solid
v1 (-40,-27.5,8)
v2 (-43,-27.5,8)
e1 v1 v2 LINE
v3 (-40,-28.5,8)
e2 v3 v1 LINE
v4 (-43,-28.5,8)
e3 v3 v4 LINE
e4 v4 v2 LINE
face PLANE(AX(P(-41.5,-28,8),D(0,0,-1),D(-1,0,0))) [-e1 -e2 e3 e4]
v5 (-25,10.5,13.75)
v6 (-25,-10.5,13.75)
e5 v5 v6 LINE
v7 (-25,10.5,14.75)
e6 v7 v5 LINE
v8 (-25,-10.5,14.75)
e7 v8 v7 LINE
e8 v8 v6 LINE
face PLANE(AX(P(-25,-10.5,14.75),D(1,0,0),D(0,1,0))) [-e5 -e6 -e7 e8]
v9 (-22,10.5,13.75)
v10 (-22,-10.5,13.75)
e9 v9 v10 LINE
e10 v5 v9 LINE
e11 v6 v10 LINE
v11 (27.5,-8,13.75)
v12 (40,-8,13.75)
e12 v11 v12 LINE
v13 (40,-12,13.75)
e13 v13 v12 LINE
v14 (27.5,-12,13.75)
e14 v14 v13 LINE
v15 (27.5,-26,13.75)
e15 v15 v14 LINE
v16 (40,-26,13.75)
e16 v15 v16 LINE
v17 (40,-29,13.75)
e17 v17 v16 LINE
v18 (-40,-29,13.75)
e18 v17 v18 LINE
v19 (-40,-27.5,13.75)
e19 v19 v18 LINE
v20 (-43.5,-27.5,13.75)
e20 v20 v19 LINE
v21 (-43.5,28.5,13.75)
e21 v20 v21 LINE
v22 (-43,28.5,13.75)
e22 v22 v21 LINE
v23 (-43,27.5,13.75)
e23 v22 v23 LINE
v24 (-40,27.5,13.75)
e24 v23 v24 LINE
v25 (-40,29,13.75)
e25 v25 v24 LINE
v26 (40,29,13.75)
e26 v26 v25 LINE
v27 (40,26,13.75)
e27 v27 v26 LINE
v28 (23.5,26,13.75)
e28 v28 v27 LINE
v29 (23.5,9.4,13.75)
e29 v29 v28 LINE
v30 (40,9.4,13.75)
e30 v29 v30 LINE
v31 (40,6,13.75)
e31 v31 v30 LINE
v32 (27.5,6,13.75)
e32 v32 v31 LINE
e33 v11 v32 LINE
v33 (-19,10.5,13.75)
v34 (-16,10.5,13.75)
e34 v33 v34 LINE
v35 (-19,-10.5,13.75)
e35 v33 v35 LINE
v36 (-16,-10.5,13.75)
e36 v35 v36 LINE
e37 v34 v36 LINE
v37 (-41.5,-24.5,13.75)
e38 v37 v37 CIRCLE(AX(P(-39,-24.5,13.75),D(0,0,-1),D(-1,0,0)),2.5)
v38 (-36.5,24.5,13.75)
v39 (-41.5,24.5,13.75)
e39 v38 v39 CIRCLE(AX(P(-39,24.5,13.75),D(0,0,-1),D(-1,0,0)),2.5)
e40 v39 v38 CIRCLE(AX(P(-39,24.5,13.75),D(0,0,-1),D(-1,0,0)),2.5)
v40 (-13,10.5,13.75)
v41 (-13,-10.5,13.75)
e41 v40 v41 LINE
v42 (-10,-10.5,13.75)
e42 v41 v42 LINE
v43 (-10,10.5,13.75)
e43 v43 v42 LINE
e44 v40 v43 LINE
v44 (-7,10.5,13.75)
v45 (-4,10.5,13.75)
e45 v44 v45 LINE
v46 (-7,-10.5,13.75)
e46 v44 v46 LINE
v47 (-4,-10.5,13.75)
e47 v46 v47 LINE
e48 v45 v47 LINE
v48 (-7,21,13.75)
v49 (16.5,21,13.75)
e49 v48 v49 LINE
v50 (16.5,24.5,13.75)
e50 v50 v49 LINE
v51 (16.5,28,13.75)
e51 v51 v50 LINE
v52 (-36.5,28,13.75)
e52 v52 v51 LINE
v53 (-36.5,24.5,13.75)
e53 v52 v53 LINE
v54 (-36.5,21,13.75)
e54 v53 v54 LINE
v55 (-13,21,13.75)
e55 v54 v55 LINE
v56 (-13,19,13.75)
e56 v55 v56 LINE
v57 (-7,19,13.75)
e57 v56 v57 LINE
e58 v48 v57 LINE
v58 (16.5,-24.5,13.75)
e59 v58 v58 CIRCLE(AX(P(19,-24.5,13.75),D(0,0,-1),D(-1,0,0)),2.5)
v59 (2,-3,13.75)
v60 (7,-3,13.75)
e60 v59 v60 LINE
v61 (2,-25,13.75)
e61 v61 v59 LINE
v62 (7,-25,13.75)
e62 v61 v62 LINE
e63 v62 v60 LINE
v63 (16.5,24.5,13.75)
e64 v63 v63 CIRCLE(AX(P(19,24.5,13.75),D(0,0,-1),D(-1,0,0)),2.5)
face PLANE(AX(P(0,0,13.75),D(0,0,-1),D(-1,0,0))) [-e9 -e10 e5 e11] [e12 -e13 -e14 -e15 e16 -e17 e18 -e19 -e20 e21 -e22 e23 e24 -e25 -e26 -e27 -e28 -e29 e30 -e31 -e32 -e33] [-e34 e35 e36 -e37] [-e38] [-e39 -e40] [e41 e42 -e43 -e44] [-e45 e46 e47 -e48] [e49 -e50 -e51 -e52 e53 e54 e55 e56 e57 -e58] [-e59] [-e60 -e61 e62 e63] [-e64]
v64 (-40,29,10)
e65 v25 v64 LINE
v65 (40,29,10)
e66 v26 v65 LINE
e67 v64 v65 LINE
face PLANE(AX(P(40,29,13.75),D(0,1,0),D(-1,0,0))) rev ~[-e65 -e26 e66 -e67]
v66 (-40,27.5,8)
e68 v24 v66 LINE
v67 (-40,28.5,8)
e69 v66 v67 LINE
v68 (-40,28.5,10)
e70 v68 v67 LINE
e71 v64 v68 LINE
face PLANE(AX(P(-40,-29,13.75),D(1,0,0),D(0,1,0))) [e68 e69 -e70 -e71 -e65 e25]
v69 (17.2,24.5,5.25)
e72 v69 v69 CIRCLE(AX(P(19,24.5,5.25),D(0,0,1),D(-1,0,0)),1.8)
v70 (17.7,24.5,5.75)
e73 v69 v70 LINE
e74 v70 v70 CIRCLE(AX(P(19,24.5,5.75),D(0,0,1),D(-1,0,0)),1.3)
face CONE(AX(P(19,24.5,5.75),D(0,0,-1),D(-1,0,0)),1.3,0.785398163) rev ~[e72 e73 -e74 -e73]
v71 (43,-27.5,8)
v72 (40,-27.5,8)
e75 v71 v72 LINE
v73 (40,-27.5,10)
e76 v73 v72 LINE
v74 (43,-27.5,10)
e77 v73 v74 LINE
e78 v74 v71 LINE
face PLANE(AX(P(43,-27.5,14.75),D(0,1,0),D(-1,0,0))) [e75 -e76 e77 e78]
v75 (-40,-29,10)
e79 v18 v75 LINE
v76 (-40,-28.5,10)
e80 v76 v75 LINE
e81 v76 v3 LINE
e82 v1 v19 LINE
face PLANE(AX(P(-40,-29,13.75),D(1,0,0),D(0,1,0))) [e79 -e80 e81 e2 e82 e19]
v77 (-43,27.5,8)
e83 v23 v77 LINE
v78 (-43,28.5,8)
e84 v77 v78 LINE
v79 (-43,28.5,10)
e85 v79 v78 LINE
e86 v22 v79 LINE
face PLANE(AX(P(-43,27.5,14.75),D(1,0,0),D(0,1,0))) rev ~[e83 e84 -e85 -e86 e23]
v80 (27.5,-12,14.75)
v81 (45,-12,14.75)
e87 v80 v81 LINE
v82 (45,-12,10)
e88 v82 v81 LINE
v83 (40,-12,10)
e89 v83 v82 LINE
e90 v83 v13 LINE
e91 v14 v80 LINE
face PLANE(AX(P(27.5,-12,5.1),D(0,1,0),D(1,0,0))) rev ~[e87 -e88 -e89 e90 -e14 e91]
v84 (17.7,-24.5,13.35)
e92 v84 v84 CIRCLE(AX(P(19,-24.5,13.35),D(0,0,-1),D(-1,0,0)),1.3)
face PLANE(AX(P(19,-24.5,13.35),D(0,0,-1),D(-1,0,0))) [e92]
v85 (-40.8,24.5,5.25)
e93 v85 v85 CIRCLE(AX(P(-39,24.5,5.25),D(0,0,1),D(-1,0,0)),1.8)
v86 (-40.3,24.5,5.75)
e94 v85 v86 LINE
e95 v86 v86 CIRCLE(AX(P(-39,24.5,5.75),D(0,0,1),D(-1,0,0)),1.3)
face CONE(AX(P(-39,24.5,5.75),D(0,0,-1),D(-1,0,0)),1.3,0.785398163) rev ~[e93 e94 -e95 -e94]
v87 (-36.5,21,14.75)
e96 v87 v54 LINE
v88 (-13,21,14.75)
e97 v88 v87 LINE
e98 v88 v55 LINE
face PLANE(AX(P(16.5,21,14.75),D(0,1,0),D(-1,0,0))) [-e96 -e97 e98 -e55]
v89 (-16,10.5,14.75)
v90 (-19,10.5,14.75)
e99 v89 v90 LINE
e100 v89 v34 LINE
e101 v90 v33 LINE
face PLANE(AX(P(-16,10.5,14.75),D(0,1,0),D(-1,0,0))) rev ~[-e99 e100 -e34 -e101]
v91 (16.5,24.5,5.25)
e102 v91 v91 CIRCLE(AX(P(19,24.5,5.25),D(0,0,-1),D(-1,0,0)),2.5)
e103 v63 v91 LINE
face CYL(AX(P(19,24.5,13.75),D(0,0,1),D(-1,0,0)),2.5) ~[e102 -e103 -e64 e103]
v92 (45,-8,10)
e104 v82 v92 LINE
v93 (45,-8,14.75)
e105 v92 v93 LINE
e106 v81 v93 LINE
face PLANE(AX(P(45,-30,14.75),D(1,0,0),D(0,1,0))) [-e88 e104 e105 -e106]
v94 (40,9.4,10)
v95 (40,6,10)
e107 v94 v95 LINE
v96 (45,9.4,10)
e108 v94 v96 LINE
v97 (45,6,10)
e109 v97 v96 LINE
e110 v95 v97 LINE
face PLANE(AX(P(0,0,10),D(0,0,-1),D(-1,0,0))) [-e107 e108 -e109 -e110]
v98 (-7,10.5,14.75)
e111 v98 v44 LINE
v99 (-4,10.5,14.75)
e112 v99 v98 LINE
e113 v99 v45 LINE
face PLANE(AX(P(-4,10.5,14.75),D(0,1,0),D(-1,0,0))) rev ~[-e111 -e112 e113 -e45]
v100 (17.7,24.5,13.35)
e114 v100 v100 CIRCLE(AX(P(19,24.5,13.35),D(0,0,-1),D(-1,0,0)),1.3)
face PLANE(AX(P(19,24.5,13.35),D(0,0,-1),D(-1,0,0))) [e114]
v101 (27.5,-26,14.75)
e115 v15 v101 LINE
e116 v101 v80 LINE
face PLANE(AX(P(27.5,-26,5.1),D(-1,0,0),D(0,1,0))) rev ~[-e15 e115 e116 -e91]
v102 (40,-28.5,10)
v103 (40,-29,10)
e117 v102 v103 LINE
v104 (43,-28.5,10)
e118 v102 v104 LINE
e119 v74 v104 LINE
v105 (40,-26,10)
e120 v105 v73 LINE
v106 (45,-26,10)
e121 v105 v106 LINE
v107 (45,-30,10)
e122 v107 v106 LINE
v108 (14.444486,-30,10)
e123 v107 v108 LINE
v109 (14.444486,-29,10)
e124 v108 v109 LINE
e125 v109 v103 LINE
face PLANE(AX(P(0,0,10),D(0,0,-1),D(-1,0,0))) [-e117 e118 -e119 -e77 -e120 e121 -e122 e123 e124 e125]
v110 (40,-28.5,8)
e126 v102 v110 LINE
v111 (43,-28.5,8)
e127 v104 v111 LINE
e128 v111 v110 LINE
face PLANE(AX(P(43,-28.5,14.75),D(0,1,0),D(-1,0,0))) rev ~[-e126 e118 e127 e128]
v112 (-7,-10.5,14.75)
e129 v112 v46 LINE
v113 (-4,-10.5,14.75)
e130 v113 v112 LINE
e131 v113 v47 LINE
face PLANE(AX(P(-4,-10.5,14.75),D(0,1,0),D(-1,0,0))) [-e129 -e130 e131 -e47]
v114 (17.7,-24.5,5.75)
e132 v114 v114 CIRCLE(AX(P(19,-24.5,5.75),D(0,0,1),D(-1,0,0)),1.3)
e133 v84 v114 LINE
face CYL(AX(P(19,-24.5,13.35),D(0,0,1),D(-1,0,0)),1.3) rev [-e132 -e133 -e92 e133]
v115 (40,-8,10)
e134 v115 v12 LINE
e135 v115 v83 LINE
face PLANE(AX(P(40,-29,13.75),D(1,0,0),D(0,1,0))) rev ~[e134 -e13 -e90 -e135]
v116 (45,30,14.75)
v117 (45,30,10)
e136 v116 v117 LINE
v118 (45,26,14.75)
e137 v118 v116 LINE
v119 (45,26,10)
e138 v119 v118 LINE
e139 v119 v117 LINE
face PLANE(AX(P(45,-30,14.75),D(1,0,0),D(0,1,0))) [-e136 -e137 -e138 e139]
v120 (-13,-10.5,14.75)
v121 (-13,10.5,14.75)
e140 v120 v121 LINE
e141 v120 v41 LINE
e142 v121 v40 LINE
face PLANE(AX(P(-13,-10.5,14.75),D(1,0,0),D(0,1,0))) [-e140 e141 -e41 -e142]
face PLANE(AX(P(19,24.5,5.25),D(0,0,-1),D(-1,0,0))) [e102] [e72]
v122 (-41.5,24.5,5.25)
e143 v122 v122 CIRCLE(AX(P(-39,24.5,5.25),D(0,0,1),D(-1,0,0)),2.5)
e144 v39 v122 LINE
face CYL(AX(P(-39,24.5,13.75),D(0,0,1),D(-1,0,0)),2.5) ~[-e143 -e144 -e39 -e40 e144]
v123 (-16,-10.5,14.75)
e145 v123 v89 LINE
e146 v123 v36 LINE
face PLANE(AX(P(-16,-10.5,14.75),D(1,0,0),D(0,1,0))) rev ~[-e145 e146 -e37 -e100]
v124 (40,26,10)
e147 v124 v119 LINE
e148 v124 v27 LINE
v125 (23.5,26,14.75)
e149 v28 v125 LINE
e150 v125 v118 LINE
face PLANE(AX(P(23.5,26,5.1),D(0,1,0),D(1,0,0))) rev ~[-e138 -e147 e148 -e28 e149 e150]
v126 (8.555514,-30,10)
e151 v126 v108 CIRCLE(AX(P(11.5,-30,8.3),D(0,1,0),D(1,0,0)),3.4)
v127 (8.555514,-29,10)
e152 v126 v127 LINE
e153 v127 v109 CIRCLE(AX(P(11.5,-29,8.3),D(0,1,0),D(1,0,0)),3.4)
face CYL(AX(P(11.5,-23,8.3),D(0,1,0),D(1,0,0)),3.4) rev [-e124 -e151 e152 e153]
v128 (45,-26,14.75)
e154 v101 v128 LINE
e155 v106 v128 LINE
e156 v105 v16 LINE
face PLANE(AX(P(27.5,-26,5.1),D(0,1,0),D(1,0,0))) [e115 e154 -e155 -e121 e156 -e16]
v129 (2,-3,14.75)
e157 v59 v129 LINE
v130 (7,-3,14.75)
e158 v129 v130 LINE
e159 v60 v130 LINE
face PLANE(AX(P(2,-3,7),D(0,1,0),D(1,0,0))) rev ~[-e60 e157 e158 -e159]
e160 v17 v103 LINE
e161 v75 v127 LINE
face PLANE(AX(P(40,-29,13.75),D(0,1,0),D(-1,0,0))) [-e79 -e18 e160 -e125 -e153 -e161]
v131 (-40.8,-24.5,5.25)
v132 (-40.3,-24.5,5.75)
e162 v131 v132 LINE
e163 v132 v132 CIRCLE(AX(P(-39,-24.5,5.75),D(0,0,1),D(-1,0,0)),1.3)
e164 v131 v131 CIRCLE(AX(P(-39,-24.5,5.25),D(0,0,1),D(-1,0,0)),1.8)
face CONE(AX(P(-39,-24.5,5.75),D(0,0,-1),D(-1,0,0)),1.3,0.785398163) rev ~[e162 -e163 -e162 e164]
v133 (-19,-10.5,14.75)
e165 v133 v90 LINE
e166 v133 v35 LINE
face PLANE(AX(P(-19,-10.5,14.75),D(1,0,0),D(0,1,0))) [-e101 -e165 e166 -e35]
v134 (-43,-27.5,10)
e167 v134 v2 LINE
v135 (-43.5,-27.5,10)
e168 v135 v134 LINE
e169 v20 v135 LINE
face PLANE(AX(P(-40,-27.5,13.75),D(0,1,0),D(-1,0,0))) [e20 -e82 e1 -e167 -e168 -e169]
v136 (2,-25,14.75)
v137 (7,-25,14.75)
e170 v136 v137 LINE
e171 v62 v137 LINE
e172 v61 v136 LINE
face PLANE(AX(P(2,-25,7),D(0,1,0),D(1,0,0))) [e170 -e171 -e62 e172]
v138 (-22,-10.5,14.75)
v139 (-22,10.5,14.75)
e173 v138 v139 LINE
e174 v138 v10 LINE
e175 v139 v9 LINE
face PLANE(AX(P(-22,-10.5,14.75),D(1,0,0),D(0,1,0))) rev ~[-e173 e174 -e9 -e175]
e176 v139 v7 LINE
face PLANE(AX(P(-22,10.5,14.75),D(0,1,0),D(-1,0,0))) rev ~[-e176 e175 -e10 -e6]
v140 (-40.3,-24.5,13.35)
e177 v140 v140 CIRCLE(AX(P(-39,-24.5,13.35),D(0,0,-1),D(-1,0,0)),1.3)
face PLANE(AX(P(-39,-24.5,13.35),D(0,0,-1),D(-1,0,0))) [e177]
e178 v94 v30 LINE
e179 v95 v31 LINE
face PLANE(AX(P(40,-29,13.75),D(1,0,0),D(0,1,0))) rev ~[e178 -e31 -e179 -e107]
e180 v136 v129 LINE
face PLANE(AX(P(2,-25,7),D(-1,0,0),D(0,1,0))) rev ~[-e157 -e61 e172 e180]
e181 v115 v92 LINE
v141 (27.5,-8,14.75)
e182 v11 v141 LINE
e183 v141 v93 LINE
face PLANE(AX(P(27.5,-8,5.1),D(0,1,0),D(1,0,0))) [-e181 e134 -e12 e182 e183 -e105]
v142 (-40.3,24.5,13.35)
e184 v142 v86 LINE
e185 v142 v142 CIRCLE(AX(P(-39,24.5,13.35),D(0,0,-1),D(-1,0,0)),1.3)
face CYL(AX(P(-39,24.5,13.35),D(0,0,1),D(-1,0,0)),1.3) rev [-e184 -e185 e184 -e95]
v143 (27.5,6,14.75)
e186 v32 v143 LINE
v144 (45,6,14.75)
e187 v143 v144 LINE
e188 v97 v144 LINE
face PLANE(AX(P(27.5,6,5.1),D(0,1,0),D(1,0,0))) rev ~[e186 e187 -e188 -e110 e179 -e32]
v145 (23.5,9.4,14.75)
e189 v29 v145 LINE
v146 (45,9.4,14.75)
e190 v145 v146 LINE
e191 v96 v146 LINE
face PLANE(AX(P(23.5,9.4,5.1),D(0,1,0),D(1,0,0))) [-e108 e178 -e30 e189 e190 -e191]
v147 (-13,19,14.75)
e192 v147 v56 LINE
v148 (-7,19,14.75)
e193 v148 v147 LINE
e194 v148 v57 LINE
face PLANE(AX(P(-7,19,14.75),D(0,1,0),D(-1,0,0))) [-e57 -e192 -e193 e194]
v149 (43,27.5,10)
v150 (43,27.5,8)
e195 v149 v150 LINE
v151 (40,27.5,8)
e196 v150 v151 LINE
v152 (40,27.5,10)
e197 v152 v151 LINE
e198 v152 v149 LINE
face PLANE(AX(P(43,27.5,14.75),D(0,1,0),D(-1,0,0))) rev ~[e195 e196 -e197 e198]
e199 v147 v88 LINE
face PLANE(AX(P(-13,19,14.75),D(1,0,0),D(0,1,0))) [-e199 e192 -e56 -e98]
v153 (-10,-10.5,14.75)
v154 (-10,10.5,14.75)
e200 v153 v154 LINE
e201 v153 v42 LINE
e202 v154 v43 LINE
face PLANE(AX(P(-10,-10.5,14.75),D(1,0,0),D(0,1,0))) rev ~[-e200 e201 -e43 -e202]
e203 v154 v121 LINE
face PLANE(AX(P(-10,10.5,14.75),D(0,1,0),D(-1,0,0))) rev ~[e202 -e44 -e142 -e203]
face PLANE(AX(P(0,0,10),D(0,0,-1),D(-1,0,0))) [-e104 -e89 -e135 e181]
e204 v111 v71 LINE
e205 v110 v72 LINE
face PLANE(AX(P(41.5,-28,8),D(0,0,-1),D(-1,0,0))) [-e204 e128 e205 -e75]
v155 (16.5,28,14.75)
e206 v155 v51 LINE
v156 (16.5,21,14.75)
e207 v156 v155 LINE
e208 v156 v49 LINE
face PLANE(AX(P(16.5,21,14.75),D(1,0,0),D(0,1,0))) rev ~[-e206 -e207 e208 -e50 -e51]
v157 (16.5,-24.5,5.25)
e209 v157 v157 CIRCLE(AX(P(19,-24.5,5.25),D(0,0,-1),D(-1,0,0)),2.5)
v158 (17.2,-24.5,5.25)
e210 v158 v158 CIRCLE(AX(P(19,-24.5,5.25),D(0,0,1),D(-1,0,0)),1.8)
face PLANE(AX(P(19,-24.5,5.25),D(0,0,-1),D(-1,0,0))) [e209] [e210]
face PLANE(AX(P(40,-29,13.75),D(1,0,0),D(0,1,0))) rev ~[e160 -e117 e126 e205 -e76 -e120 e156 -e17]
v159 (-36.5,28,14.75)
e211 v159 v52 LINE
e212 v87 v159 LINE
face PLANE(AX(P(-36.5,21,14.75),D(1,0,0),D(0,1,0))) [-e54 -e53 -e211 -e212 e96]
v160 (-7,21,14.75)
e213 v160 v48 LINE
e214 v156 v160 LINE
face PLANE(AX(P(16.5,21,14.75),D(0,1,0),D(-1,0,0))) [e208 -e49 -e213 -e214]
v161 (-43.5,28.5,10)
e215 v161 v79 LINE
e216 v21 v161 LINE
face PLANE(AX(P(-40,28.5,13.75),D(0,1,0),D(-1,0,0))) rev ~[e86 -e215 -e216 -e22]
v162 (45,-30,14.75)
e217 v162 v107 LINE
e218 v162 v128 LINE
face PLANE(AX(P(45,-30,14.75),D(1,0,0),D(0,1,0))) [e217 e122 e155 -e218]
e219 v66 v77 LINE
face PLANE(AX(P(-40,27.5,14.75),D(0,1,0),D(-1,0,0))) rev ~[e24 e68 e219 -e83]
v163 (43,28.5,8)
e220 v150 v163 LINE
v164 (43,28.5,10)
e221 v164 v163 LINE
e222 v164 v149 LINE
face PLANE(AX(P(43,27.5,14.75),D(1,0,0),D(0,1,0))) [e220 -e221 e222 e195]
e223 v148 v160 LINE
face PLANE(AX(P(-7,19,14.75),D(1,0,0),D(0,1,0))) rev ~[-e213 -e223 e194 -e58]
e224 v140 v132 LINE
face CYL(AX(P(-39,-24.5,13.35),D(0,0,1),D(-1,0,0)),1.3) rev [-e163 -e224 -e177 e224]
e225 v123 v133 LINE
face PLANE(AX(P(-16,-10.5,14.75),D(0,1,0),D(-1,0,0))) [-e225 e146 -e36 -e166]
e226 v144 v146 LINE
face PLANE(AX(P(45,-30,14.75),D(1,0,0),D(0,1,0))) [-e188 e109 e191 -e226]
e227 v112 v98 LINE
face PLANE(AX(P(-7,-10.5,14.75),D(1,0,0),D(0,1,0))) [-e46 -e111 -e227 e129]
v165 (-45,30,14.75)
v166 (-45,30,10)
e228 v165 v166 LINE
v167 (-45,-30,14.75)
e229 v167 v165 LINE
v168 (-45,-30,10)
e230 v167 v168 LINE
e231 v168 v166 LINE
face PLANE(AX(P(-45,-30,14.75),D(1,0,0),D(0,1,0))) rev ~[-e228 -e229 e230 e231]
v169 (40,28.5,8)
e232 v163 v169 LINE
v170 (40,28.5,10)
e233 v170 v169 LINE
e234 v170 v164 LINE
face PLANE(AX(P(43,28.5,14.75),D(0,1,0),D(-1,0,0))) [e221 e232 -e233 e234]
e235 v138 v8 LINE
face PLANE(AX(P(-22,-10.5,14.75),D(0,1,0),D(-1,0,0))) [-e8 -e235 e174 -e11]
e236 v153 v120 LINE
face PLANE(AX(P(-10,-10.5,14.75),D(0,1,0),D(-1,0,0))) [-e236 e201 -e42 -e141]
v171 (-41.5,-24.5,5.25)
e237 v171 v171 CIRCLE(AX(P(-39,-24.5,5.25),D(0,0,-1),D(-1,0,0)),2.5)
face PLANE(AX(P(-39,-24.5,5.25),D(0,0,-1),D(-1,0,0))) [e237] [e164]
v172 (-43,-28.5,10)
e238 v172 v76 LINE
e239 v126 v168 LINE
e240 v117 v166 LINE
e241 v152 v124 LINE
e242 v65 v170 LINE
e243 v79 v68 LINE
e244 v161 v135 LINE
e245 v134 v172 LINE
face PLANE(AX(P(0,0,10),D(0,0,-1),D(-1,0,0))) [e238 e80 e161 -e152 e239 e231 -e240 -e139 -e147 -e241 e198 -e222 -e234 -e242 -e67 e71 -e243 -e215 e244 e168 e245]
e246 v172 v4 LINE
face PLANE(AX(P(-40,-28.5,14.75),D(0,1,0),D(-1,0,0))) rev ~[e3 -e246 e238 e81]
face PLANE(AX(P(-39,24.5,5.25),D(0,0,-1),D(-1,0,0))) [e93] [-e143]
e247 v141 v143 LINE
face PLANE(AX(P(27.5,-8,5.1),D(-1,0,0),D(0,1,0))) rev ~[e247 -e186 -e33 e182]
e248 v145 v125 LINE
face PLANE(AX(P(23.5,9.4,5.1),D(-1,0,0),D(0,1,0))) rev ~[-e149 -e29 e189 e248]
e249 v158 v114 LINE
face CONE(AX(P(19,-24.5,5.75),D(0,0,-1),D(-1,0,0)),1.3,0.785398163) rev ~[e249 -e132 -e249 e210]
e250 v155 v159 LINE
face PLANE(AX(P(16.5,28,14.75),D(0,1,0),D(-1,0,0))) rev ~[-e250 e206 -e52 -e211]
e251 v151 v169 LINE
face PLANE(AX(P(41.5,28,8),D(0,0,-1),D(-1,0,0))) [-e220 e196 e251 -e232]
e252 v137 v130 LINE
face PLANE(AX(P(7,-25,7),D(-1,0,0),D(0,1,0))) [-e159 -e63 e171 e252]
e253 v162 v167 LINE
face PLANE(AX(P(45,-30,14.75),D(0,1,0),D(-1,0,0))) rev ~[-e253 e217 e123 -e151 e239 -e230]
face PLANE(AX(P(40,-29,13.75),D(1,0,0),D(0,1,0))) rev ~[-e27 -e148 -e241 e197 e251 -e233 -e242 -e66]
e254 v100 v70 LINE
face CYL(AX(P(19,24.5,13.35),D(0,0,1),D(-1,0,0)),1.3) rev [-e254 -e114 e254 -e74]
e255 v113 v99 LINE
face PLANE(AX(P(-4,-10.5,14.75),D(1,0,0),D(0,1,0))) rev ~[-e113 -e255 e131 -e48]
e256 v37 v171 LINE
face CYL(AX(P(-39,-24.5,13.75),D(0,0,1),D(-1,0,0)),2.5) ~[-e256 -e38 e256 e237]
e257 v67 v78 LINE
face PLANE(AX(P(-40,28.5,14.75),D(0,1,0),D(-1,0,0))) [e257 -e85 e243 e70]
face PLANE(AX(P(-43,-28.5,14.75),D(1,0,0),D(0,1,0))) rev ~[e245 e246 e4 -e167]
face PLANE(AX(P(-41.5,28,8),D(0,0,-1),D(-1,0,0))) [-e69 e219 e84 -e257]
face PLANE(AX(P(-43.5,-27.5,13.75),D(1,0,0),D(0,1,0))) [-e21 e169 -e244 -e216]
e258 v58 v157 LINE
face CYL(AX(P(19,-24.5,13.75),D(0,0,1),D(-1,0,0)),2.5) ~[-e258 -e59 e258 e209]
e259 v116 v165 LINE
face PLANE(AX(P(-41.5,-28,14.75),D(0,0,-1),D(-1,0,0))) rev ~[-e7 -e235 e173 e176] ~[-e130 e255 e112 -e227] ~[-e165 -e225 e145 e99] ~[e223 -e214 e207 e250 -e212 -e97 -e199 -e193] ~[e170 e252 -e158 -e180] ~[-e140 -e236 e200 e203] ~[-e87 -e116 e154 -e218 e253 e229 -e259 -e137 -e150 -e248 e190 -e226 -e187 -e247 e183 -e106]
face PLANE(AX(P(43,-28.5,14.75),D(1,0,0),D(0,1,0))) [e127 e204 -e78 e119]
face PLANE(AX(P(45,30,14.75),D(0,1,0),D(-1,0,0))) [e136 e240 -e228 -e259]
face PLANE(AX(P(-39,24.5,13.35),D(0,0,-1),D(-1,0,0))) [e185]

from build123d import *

# Parameters (mm, degrees)
BOX071_W               = 5
BOX071_H               = 22
BOX071_DEPTH           = 10
BOX002_W               = 5
BOX002_H               = 12
BOX002_DEPTH           = 6
BOX003_W               = 9
BOX003_H               = 10
BOX003_DEPTH           = 3.8
FILLET_R               = 1.6
BOX004_W               = 7
BOX004_H               = 10
BOX004_DEPTH           = 3.8
FILLET001_R            = 0.6
BOX005_W               = 7
BOX005_H               = 10
BOX005_DEPTH           = 3.8
FILLET002_R            = 0.6
CYLINDER008_R          = 3.4
CYLINDER008_DEPTH      = 10
BOX006_W               = 26
BOX006_H               = 16.6
BOX006_DEPTH           = 14
BOX007_W               = 22
BOX007_H               = 14
BOX007_DEPTH           = 16.6
BOX008_W               = 22
BOX008_H               = 14
BOX008_DEPTH           = 16.6
CYLINDER001_R          = 1.6
CYLINDER001_DEPTH      = 10
CYLINDER_R             = 1.6
CYLINDER_DEPTH         = 10
CYLINDER002_R          = 1.6
CYLINDER002_DEPTH      = 10
CYLINDER003_R          = 1.6
CYLINDER003_DEPTH      = 10
BOX017_W               = 3
BOX017_H               = 21
BOX017_DEPTH           = 3
BOX009_W               = 3
BOX009_H               = 21
BOX009_DEPTH           = 3
BOX016_W               = 3
BOX016_H               = 21
BOX016_DEPTH           = 3
BOX010_W               = 3
BOX010_H               = 21
BOX010_DEPTH           = 3
BOX021_W               = 53
BOX021_H               = 7
BOX021_DEPTH           = 10
BOX014_W               = 6
BOX014_H               = 2
BOX014_DEPTH           = 10
CYLINDER013_R          = 1.3
CYLINDER013_DEPTH      = 8.5
CYLINDER015_R          = 1.3
CYLINDER015_DEPTH      = 8.5
CYLINDER016_R          = 1.3
CYLINDER016_DEPTH      = 8.5
CYLINDER012_R          = 1.3
CYLINDER012_DEPTH      = 8.5
BOX018_W               = 3
BOX018_H               = 1
BOX018_DEPTH           = 6.75
BOX012_W               = 3
BOX012_H               = 1
BOX012_DEPTH           = 6.75
BOX013_W               = 3
BOX013_H               = 1
BOX013_DEPTH           = 6.75
BOX015_W               = 3
BOX015_H               = 1
BOX015_DEPTH           = 6.75
CYLINDER014_R          = 2.5
CYLINDER014_DEPTH      = 8.5
CYLINDER009_R          = 2.5
CYLINDER009_DEPTH      = 8.5
CYLINDER010_R          = 2.5
CYLINDER010_DEPTH      = 8.5
CYLINDER011_R          = 2.5
CYLINDER011_DEPTH      = 8.5
BOX020_W               = 3.5
BOX020_H               = 56
BOX020_DEPTH           = 10
BOX011_W               = 80
BOX011_H               = 58
BOX011_DEPTH           = 10
BOX019_W               = 90
BOX019_H               = 60
BOX019_DEPTH           = 4.75
CUT003_PLACEMENT_ANGLE = 180
CHAMFER004_SIZE        = 0.5


with BuildPart() as w_rfel045:
    # Box071 → Box071 (new body)
    with BuildSketch(Plane(origin=(2, -25, 7), x_dir=(1, 0, 0), z_dir=(0, 0, 1))):
        with Locations((2.5, 11)):
            Rectangle(BOX071_W, BOX071_H)
    extrude(amount=BOX071_DEPTH)


with BuildPart() as sd_slot:
    # Box002 → Box002 (new body)
    with BuildSketch(Plane(origin=(-45, -6, -1), x_dir=(1, 0, 0), z_dir=(0, 0, 1))):
        with Locations((2.5, 6)):
            Rectangle(BOX002_W, BOX002_H)
    extrude(amount=BOX002_DEPTH)


with BuildPart() as usb_c:
    # Box003 → Box003 (new body)
    with BuildSketch(Plane(origin=(-35.8, -29, 4.7), x_dir=(1, 0, 0), z_dir=(0, 0, 1))):
        with Locations((4.5, 5)):
            Rectangle(BOX003_W, BOX003_H)
    extrude(amount=BOX003_DEPTH)

    # Fillet
    fillet_edges = [usb_c.edges().sort_by_distance(p)[0] for p in [
        (-35.8, -24, 8.5),
        (-35.8, -24, 4.7),
        (-26.8, -24, 8.5),
        (-26.8, -24, 4.7),
    ]]
    fillet(fillet_edges, radius=FILLET_R)


with BuildPart() as usb_c_1:
    # Fillet placement: moved
    add(usb_c.part.moved(Location((0, -4, 0))))


with BuildPart() as fillet001:
    # Box004 → Box004 (new body)
    with BuildSketch(Plane(origin=(-20, -29, 4.7), x_dir=(1, 0, 0), z_dir=(0, 0, 1))):
        with Locations((3.5, 5)):
            Rectangle(BOX004_W, BOX004_H)
    extrude(amount=BOX004_DEPTH)

    # Fillet001
    fillet001_edges = [fillet001.edges().sort_by_distance(p)[0] for p in [
        (-20, -24, 8.5),
        (-20, -24, 4.7),
        (-13, -24, 8.5),
        (-13, -24, 4.7),
    ]]
    fillet(fillet001_edges, radius=FILLET001_R)


with BuildPart() as fillet001_1:
    # Fillet001 placement: moved
    add(fillet001.part.moved(Location((0, -4, 0))))


with BuildPart() as fillet002:
    # Box005 → Box005 (new body)
    with BuildSketch(Plane(origin=(-20, -29, 4.7), x_dir=(1, 0, 0), z_dir=(0, 0, 1))):
        with Locations((3.5, 5)):
            Rectangle(BOX005_W, BOX005_H)
    extrude(amount=BOX005_DEPTH)

    # Fillet002
    fillet002_edges = [fillet002.edges().sort_by_distance(p)[0] for p in [
        (-20, -24, 8.5),
        (-20, -24, 4.7),
        (-13, -24, 8.5),
        (-13, -24, 4.7),
    ]]
    fillet(fillet002_edges, radius=FILLET002_R)


with BuildPart() as fillet002_1:
    # Fillet002 placement: moved
    add(fillet002.part.moved(Location((13.5, -4, 0))))


with BuildPart() as audio:
    # Cylinder008 → Cylinder008 (new body)
    with BuildSketch(Plane(origin=(11.5, -23, 8), x_dir=(1, 0, 0), z_dir=(0, -1, 0))):
        Circle(CYLINDER008_R)
    extrude(amount=CYLINDER008_DEPTH)


with BuildPart() as network:
    # Box006 → Box006 (new body)
    with BuildSketch(Plane(origin=(23.5, 9.4, 4.8), x_dir=(1, 0, 0), z_dir=(0, 0, 1))):
        with Locations((13, 8.3)):
            Rectangle(BOX006_W, BOX006_H)
    extrude(amount=BOX006_DEPTH)


with BuildPart() as usb1:
    # Box007 → Box007 (new body)
    with BuildSketch(Plane(origin=(27.5, -8, 4.8), x_dir=(1, 0, 0), z_dir=(0, 0, 1))):
        with Locations((11, 7)):
            Rectangle(BOX007_W, BOX007_H)
    extrude(amount=BOX007_DEPTH)


with BuildPart() as usb2:
    # Box008 → Box008 (new body)
    with BuildSketch(Plane(origin=(27.5, -26, 4.8), x_dir=(1, 0, 0), z_dir=(0, 0, 1))):
        with Locations((11, 7)):
            Rectangle(BOX008_W, BOX008_H)
    extrude(amount=BOX008_DEPTH)


with BuildPart() as zylinder001:
    # Cylinder001 → Cylinder001 (new body)
    with BuildSketch(Plane(origin=(19, 24.5, 0), x_dir=(1, 0, 0), z_dir=(0, 0, 1))):
        Circle(CYLINDER001_R)
    extrude(amount=CYLINDER001_DEPTH)


with BuildPart() as fusion:
    # Cylinder → Cylinder (new body)
    with BuildSketch(Plane(origin=(19, -24.5, 0), x_dir=(1, 0, 0), z_dir=(0, 0, 1))):
        Circle(CYLINDER_R)
    extrude(amount=CYLINDER_DEPTH)

    # Fusion: union Zylinder001
    add(zylinder001.part)


with BuildPart() as zylinder002:
    # Cylinder002 → Cylinder002 (new body)
    with BuildSketch(Plane(origin=(19, 24.5, 0), x_dir=(1, 0, 0), z_dir=(0, 0, 1))):
        Circle(CYLINDER002_R)
    extrude(amount=CYLINDER002_DEPTH)


with BuildPart() as aussparungen:
    # Cylinder003 → Cylinder003 (new body)
    with BuildSketch(Plane(origin=(19, -24.5, 0), x_dir=(1, 0, 0), z_dir=(0, 0, 1))):
        Circle(CYLINDER003_R)
    extrude(amount=CYLINDER003_DEPTH)

    # Fusion001: union Zylinder002
    add(zylinder002.part)


with BuildPart() as aussparungen_1:
    # Fusion001 placement: moved
    add(aussparungen.part.moved(Location((-58, 0, 0))))

    # Fusion002: union Fusion
    add(fusion.part)


with BuildPart() as aussparungen_2:
    # Fusion002 placement: moved
    add(aussparungen_1.part.moved(Location((0, 0, -5.3))))

    # Fusion006: union SD-Slot, USB-C, Fillet001, Fillet002, Audio, Network, USB1, USB2
    add(sd_slot.part)
    add(usb_c_1.part)
    add(fillet001_1.part)
    add(fillet002_1.part)
    add(audio.part)
    add(network.part)
    add(usb1.part)
    add(usb2.part)


with BuildPart() as aussparungen_3:
    # Fusion006 placement: moved
    add(aussparungen_2.part.moved(Location((0, 0, 0.3))))


with BuildPart() as w_rfel011:
    # Box017 → Box017 (new body)
    with BuildSketch(Plane(origin=(16, -10.5, 0), x_dir=(1, 0, 0), z_dir=(0, 0, 1))):
        with Locations((1.5, 10.5)):
            Rectangle(BOX017_W, BOX017_H)
    extrude(amount=BOX017_DEPTH)


with BuildPart() as w_rfel003:
    # Box009 → Box009 (new body)
    with BuildSketch(Plane(origin=(4, -10.5, 0), x_dir=(1, 0, 0), z_dir=(0, 0, 1))):
        with Locations((1.5, 10.5)):
            Rectangle(BOX009_W, BOX009_H)
    extrude(amount=BOX009_DEPTH)


with BuildPart() as w_rfel010:
    # Box016 → Box016 (new body)
    with BuildSketch(Plane(origin=(22, -10.5, 0), x_dir=(1, 0, 0), z_dir=(0, 0, 1))):
        with Locations((1.5, 10.5)):
            Rectangle(BOX016_W, BOX016_H)
    extrude(amount=BOX016_DEPTH)


with BuildPart() as lueftung:
    # Box010 → Box010 (new body)
    with BuildSketch(Plane(origin=(10, -10.5, 0), x_dir=(1, 0, 0), z_dir=(0, 0, 1))):
        with Locations((1.5, 10.5)):
            Rectangle(BOX010_W, BOX010_H)
    extrude(amount=BOX010_DEPTH)

    # Fusion010: union Würfel011, Würfel003, Würfel010
    add(w_rfel011.part)
    add(w_rfel003.part)
    add(w_rfel010.part)


with BuildPart() as w_rfel012:
    # Box021 → Box021 (new body)
    with BuildSketch(Plane(origin=(-16.5, 21, 0), x_dir=(1, 0, 0), z_dir=(0, 0, 1))):
        with Locations((26.5, 3.5)):
            Rectangle(BOX021_W, BOX021_H)
    extrude(amount=BOX021_DEPTH)


with BuildPart() as gpio_leiste:
    # Box014 → Box014 (new body)
    with BuildSketch(Plane(origin=(7, 19, 0), x_dir=(1, 0, 0), z_dir=(0, 0, 1))):
        with Locations((3, 1)):
            Rectangle(BOX014_W, BOX014_H)
    extrude(amount=BOX014_DEPTH)

    # Fusion011: union Würfel012
    add(w_rfel012.part)


with BuildPart() as zylinder012:
    # Cylinder013 → Cylinder013 (new body)
    with BuildSketch(Plane(origin=(39, 24.5, 1), x_dir=(1, 0, 0), z_dir=(0, 0, 1))):
        Circle(CYLINDER013_R)
    extrude(amount=CYLINDER013_DEPTH)


with BuildPart() as zylinder014:
    # Cylinder015 → Cylinder015 (new body)
    with BuildSketch(Plane(origin=(-19, -24.5, 1), x_dir=(1, 0, 0), z_dir=(0, 0, 1))):
        Circle(CYLINDER015_R)
    extrude(amount=CYLINDER015_DEPTH)


with BuildPart() as zylinder015:
    # Cylinder016 → Cylinder016 (new body)
    with BuildSketch(Plane(origin=(39, -24.5, 1), x_dir=(1, 0, 0), z_dir=(0, 0, 1))):
        Circle(CYLINDER016_R)
    extrude(amount=CYLINDER016_DEPTH)


with BuildPart() as fusion014:
    # Cylinder012 → Cylinder012 (new body)
    with BuildSketch(Plane(origin=(-19, 24.5, 1), x_dir=(1, 0, 0), z_dir=(0, 0, 1))):
        Circle(CYLINDER012_R)
    extrude(amount=CYLINDER012_DEPTH)

    # Fusion009: union Zylinder012, Zylinder014, Zylinder015
    add(zylinder012.part)
    add(zylinder014.part)
    add(zylinder015.part)


with BuildPart() as fusion014_1:
    # Fusion009 placement: moved
    add(fusion014.part.moved(Location((0, 0, 0.4))))

    # Fusion014: union Lueftung, GPIO-Leiste
    add(lueftung.part)
    add(gpio_leiste.part)


with BuildPart() as w_rfel005:
    # Box018 → Box018 (new body)
    with BuildSketch(Plane(origin=(40, 27.5, 0), x_dir=(1, 0, 0), z_dir=(0, 0, 1))):
        with Locations((1.5, 0.5)):
            Rectangle(BOX018_W, BOX018_H)
    extrude(amount=BOX018_DEPTH)


with BuildPart() as w_rfel006:
    # Box012 → Box012 (new body)
    with BuildSketch(Plane(origin=(-43, 27.5, 0), x_dir=(1, 0, 0), z_dir=(0, 0, 1))):
        with Locations((1.5, 0.5)):
            Rectangle(BOX012_W, BOX012_H)
    extrude(amount=BOX012_DEPTH)


with BuildPart() as w_rfel007:
    # Box013 → Box013 (new body)
    with BuildSketch(Plane(origin=(40, -28.5, 0), x_dir=(1, 0, 0), z_dir=(0, 0, 1))):
        with Locations((1.5, 0.5)):
            Rectangle(BOX013_W, BOX013_H)
    extrude(amount=BOX013_DEPTH)


with BuildPart() as zentrierung:
    # Box015 → Box015 (new body)
    with BuildSketch(Plane(origin=(-43, -28.5, 0), x_dir=(1, 0, 0), z_dir=(0, 0, 1))):
        with Locations((1.5, 0.5)):
            Rectangle(BOX015_W, BOX015_H)
    extrude(amount=BOX015_DEPTH)

    # Fusion012: union Würfel005, Würfel006, Würfel007
    add(w_rfel005.part)
    add(w_rfel006.part)
    add(w_rfel007.part)


with BuildPart() as zylinder013:
    # Cylinder014 → Cylinder014 (new body)
    with BuildSketch(Plane(origin=(39, 24.5, 1), x_dir=(1, 0, 0), z_dir=(0, 0, 1))):
        Circle(CYLINDER014_R)
    extrude(amount=CYLINDER014_DEPTH)


with BuildPart() as zylinder008:
    # Cylinder009 → Cylinder009 (new body)
    with BuildSketch(Plane(origin=(-19, -24.5, 1), x_dir=(1, 0, 0), z_dir=(0, 0, 1))):
        Circle(CYLINDER009_R)
    extrude(amount=CYLINDER009_DEPTH)


with BuildPart() as zylinder009:
    # Cylinder010 → Cylinder010 (new body)
    with BuildSketch(Plane(origin=(39, -24.5, 1), x_dir=(1, 0, 0), z_dir=(0, 0, 1))):
        Circle(CYLINDER010_R)
    extrude(amount=CYLINDER010_DEPTH)


with BuildPart() as stuetzen:
    # Cylinder011 → Cylinder011 (new body)
    with BuildSketch(Plane(origin=(-19, 24.5, 1), x_dir=(1, 0, 0), z_dir=(0, 0, 1))):
        Circle(CYLINDER011_R)
    extrude(amount=CYLINDER011_DEPTH)

    # Fusion008: union Zylinder013, Zylinder008, Zylinder009
    add(zylinder013.part)
    add(zylinder008.part)
    add(zylinder009.part)


with BuildPart() as deckel_innen_b:
    # Box020 → Box020 (new body)
    with BuildSketch(Plane(origin=(40, -27.5, 1), x_dir=(1, 0, 0), z_dir=(0, 0, 1))):
        with Locations((1.75, 28)):
            Rectangle(BOX020_W, BOX020_H)
    extrude(amount=BOX020_DEPTH)


with BuildPart() as deckel_innen:
    # Box011 → Box011 (new body)
    with BuildSketch(Plane(origin=(-40, -29, 1), x_dir=(1, 0, 0), z_dir=(0, 0, 1))):
        with Locations((40, 29)):
            Rectangle(BOX011_W, BOX011_H)
    extrude(amount=BOX011_DEPTH)

    # Fusion015: union Deckel innen b
    add(deckel_innen_b.part)


with BuildPart() as tx_pi_deckel_mit_ribbon_slot:
    # Box019 → Box019 (new body)
    with BuildSketch(Plane(origin=(-45, -30, 0), x_dir=(1, 0, 0), z_dir=(0, 0, 1))):
        with Locations((45, 30)):
            Rectangle(BOX019_W, BOX019_H)
    extrude(amount=BOX019_DEPTH)

    # Cut002: cut Deckel innen
    add(deckel_innen.part, mode=Mode.SUBTRACT)

    # Fusion013: union Zentrierung, Stuetzen
    add(zentrierung.part)
    add(stuetzen.part)

    # Cut003: cut Fusion014
    add(fusion014_1.part, mode=Mode.SUBTRACT)


with BuildPart() as tx_pi_deckel_mit_ribbon_slot_1:
    # Cut003 placement: moved
    add(tx_pi_deckel_mit_ribbon_slot.part.moved(Location((0, 0, 14.75))).rotate(Axis((0, 0, 14.75), (0, 1, 0)), CUT003_PLACEMENT_ANGLE))

    # Cut004: cut Aussparungen
    add(aussparungen_3.part, mode=Mode.SUBTRACT)

    # Chamfer004
    chamfer004_edges = [tx_pi_deckel_mit_ribbon_slot_1.edges().sort_by_distance(p)[0] for p in [
        (-37.7, 24.5, 5.25),
        (-37.7, -24.5, 5.25),
        (20.3, -24.5, 5.25),
        (20.3, 24.5, 5.25),
    ]]
    chamfer(chamfer004_edges, length=CHAMFER004_SIZE)

    # Cut027: cut Würfel045
    add(w_rfel045.part, mode=Mode.SUBTRACT)


solid = tx_pi_deckel_mit_ribbon_slot_1.part
